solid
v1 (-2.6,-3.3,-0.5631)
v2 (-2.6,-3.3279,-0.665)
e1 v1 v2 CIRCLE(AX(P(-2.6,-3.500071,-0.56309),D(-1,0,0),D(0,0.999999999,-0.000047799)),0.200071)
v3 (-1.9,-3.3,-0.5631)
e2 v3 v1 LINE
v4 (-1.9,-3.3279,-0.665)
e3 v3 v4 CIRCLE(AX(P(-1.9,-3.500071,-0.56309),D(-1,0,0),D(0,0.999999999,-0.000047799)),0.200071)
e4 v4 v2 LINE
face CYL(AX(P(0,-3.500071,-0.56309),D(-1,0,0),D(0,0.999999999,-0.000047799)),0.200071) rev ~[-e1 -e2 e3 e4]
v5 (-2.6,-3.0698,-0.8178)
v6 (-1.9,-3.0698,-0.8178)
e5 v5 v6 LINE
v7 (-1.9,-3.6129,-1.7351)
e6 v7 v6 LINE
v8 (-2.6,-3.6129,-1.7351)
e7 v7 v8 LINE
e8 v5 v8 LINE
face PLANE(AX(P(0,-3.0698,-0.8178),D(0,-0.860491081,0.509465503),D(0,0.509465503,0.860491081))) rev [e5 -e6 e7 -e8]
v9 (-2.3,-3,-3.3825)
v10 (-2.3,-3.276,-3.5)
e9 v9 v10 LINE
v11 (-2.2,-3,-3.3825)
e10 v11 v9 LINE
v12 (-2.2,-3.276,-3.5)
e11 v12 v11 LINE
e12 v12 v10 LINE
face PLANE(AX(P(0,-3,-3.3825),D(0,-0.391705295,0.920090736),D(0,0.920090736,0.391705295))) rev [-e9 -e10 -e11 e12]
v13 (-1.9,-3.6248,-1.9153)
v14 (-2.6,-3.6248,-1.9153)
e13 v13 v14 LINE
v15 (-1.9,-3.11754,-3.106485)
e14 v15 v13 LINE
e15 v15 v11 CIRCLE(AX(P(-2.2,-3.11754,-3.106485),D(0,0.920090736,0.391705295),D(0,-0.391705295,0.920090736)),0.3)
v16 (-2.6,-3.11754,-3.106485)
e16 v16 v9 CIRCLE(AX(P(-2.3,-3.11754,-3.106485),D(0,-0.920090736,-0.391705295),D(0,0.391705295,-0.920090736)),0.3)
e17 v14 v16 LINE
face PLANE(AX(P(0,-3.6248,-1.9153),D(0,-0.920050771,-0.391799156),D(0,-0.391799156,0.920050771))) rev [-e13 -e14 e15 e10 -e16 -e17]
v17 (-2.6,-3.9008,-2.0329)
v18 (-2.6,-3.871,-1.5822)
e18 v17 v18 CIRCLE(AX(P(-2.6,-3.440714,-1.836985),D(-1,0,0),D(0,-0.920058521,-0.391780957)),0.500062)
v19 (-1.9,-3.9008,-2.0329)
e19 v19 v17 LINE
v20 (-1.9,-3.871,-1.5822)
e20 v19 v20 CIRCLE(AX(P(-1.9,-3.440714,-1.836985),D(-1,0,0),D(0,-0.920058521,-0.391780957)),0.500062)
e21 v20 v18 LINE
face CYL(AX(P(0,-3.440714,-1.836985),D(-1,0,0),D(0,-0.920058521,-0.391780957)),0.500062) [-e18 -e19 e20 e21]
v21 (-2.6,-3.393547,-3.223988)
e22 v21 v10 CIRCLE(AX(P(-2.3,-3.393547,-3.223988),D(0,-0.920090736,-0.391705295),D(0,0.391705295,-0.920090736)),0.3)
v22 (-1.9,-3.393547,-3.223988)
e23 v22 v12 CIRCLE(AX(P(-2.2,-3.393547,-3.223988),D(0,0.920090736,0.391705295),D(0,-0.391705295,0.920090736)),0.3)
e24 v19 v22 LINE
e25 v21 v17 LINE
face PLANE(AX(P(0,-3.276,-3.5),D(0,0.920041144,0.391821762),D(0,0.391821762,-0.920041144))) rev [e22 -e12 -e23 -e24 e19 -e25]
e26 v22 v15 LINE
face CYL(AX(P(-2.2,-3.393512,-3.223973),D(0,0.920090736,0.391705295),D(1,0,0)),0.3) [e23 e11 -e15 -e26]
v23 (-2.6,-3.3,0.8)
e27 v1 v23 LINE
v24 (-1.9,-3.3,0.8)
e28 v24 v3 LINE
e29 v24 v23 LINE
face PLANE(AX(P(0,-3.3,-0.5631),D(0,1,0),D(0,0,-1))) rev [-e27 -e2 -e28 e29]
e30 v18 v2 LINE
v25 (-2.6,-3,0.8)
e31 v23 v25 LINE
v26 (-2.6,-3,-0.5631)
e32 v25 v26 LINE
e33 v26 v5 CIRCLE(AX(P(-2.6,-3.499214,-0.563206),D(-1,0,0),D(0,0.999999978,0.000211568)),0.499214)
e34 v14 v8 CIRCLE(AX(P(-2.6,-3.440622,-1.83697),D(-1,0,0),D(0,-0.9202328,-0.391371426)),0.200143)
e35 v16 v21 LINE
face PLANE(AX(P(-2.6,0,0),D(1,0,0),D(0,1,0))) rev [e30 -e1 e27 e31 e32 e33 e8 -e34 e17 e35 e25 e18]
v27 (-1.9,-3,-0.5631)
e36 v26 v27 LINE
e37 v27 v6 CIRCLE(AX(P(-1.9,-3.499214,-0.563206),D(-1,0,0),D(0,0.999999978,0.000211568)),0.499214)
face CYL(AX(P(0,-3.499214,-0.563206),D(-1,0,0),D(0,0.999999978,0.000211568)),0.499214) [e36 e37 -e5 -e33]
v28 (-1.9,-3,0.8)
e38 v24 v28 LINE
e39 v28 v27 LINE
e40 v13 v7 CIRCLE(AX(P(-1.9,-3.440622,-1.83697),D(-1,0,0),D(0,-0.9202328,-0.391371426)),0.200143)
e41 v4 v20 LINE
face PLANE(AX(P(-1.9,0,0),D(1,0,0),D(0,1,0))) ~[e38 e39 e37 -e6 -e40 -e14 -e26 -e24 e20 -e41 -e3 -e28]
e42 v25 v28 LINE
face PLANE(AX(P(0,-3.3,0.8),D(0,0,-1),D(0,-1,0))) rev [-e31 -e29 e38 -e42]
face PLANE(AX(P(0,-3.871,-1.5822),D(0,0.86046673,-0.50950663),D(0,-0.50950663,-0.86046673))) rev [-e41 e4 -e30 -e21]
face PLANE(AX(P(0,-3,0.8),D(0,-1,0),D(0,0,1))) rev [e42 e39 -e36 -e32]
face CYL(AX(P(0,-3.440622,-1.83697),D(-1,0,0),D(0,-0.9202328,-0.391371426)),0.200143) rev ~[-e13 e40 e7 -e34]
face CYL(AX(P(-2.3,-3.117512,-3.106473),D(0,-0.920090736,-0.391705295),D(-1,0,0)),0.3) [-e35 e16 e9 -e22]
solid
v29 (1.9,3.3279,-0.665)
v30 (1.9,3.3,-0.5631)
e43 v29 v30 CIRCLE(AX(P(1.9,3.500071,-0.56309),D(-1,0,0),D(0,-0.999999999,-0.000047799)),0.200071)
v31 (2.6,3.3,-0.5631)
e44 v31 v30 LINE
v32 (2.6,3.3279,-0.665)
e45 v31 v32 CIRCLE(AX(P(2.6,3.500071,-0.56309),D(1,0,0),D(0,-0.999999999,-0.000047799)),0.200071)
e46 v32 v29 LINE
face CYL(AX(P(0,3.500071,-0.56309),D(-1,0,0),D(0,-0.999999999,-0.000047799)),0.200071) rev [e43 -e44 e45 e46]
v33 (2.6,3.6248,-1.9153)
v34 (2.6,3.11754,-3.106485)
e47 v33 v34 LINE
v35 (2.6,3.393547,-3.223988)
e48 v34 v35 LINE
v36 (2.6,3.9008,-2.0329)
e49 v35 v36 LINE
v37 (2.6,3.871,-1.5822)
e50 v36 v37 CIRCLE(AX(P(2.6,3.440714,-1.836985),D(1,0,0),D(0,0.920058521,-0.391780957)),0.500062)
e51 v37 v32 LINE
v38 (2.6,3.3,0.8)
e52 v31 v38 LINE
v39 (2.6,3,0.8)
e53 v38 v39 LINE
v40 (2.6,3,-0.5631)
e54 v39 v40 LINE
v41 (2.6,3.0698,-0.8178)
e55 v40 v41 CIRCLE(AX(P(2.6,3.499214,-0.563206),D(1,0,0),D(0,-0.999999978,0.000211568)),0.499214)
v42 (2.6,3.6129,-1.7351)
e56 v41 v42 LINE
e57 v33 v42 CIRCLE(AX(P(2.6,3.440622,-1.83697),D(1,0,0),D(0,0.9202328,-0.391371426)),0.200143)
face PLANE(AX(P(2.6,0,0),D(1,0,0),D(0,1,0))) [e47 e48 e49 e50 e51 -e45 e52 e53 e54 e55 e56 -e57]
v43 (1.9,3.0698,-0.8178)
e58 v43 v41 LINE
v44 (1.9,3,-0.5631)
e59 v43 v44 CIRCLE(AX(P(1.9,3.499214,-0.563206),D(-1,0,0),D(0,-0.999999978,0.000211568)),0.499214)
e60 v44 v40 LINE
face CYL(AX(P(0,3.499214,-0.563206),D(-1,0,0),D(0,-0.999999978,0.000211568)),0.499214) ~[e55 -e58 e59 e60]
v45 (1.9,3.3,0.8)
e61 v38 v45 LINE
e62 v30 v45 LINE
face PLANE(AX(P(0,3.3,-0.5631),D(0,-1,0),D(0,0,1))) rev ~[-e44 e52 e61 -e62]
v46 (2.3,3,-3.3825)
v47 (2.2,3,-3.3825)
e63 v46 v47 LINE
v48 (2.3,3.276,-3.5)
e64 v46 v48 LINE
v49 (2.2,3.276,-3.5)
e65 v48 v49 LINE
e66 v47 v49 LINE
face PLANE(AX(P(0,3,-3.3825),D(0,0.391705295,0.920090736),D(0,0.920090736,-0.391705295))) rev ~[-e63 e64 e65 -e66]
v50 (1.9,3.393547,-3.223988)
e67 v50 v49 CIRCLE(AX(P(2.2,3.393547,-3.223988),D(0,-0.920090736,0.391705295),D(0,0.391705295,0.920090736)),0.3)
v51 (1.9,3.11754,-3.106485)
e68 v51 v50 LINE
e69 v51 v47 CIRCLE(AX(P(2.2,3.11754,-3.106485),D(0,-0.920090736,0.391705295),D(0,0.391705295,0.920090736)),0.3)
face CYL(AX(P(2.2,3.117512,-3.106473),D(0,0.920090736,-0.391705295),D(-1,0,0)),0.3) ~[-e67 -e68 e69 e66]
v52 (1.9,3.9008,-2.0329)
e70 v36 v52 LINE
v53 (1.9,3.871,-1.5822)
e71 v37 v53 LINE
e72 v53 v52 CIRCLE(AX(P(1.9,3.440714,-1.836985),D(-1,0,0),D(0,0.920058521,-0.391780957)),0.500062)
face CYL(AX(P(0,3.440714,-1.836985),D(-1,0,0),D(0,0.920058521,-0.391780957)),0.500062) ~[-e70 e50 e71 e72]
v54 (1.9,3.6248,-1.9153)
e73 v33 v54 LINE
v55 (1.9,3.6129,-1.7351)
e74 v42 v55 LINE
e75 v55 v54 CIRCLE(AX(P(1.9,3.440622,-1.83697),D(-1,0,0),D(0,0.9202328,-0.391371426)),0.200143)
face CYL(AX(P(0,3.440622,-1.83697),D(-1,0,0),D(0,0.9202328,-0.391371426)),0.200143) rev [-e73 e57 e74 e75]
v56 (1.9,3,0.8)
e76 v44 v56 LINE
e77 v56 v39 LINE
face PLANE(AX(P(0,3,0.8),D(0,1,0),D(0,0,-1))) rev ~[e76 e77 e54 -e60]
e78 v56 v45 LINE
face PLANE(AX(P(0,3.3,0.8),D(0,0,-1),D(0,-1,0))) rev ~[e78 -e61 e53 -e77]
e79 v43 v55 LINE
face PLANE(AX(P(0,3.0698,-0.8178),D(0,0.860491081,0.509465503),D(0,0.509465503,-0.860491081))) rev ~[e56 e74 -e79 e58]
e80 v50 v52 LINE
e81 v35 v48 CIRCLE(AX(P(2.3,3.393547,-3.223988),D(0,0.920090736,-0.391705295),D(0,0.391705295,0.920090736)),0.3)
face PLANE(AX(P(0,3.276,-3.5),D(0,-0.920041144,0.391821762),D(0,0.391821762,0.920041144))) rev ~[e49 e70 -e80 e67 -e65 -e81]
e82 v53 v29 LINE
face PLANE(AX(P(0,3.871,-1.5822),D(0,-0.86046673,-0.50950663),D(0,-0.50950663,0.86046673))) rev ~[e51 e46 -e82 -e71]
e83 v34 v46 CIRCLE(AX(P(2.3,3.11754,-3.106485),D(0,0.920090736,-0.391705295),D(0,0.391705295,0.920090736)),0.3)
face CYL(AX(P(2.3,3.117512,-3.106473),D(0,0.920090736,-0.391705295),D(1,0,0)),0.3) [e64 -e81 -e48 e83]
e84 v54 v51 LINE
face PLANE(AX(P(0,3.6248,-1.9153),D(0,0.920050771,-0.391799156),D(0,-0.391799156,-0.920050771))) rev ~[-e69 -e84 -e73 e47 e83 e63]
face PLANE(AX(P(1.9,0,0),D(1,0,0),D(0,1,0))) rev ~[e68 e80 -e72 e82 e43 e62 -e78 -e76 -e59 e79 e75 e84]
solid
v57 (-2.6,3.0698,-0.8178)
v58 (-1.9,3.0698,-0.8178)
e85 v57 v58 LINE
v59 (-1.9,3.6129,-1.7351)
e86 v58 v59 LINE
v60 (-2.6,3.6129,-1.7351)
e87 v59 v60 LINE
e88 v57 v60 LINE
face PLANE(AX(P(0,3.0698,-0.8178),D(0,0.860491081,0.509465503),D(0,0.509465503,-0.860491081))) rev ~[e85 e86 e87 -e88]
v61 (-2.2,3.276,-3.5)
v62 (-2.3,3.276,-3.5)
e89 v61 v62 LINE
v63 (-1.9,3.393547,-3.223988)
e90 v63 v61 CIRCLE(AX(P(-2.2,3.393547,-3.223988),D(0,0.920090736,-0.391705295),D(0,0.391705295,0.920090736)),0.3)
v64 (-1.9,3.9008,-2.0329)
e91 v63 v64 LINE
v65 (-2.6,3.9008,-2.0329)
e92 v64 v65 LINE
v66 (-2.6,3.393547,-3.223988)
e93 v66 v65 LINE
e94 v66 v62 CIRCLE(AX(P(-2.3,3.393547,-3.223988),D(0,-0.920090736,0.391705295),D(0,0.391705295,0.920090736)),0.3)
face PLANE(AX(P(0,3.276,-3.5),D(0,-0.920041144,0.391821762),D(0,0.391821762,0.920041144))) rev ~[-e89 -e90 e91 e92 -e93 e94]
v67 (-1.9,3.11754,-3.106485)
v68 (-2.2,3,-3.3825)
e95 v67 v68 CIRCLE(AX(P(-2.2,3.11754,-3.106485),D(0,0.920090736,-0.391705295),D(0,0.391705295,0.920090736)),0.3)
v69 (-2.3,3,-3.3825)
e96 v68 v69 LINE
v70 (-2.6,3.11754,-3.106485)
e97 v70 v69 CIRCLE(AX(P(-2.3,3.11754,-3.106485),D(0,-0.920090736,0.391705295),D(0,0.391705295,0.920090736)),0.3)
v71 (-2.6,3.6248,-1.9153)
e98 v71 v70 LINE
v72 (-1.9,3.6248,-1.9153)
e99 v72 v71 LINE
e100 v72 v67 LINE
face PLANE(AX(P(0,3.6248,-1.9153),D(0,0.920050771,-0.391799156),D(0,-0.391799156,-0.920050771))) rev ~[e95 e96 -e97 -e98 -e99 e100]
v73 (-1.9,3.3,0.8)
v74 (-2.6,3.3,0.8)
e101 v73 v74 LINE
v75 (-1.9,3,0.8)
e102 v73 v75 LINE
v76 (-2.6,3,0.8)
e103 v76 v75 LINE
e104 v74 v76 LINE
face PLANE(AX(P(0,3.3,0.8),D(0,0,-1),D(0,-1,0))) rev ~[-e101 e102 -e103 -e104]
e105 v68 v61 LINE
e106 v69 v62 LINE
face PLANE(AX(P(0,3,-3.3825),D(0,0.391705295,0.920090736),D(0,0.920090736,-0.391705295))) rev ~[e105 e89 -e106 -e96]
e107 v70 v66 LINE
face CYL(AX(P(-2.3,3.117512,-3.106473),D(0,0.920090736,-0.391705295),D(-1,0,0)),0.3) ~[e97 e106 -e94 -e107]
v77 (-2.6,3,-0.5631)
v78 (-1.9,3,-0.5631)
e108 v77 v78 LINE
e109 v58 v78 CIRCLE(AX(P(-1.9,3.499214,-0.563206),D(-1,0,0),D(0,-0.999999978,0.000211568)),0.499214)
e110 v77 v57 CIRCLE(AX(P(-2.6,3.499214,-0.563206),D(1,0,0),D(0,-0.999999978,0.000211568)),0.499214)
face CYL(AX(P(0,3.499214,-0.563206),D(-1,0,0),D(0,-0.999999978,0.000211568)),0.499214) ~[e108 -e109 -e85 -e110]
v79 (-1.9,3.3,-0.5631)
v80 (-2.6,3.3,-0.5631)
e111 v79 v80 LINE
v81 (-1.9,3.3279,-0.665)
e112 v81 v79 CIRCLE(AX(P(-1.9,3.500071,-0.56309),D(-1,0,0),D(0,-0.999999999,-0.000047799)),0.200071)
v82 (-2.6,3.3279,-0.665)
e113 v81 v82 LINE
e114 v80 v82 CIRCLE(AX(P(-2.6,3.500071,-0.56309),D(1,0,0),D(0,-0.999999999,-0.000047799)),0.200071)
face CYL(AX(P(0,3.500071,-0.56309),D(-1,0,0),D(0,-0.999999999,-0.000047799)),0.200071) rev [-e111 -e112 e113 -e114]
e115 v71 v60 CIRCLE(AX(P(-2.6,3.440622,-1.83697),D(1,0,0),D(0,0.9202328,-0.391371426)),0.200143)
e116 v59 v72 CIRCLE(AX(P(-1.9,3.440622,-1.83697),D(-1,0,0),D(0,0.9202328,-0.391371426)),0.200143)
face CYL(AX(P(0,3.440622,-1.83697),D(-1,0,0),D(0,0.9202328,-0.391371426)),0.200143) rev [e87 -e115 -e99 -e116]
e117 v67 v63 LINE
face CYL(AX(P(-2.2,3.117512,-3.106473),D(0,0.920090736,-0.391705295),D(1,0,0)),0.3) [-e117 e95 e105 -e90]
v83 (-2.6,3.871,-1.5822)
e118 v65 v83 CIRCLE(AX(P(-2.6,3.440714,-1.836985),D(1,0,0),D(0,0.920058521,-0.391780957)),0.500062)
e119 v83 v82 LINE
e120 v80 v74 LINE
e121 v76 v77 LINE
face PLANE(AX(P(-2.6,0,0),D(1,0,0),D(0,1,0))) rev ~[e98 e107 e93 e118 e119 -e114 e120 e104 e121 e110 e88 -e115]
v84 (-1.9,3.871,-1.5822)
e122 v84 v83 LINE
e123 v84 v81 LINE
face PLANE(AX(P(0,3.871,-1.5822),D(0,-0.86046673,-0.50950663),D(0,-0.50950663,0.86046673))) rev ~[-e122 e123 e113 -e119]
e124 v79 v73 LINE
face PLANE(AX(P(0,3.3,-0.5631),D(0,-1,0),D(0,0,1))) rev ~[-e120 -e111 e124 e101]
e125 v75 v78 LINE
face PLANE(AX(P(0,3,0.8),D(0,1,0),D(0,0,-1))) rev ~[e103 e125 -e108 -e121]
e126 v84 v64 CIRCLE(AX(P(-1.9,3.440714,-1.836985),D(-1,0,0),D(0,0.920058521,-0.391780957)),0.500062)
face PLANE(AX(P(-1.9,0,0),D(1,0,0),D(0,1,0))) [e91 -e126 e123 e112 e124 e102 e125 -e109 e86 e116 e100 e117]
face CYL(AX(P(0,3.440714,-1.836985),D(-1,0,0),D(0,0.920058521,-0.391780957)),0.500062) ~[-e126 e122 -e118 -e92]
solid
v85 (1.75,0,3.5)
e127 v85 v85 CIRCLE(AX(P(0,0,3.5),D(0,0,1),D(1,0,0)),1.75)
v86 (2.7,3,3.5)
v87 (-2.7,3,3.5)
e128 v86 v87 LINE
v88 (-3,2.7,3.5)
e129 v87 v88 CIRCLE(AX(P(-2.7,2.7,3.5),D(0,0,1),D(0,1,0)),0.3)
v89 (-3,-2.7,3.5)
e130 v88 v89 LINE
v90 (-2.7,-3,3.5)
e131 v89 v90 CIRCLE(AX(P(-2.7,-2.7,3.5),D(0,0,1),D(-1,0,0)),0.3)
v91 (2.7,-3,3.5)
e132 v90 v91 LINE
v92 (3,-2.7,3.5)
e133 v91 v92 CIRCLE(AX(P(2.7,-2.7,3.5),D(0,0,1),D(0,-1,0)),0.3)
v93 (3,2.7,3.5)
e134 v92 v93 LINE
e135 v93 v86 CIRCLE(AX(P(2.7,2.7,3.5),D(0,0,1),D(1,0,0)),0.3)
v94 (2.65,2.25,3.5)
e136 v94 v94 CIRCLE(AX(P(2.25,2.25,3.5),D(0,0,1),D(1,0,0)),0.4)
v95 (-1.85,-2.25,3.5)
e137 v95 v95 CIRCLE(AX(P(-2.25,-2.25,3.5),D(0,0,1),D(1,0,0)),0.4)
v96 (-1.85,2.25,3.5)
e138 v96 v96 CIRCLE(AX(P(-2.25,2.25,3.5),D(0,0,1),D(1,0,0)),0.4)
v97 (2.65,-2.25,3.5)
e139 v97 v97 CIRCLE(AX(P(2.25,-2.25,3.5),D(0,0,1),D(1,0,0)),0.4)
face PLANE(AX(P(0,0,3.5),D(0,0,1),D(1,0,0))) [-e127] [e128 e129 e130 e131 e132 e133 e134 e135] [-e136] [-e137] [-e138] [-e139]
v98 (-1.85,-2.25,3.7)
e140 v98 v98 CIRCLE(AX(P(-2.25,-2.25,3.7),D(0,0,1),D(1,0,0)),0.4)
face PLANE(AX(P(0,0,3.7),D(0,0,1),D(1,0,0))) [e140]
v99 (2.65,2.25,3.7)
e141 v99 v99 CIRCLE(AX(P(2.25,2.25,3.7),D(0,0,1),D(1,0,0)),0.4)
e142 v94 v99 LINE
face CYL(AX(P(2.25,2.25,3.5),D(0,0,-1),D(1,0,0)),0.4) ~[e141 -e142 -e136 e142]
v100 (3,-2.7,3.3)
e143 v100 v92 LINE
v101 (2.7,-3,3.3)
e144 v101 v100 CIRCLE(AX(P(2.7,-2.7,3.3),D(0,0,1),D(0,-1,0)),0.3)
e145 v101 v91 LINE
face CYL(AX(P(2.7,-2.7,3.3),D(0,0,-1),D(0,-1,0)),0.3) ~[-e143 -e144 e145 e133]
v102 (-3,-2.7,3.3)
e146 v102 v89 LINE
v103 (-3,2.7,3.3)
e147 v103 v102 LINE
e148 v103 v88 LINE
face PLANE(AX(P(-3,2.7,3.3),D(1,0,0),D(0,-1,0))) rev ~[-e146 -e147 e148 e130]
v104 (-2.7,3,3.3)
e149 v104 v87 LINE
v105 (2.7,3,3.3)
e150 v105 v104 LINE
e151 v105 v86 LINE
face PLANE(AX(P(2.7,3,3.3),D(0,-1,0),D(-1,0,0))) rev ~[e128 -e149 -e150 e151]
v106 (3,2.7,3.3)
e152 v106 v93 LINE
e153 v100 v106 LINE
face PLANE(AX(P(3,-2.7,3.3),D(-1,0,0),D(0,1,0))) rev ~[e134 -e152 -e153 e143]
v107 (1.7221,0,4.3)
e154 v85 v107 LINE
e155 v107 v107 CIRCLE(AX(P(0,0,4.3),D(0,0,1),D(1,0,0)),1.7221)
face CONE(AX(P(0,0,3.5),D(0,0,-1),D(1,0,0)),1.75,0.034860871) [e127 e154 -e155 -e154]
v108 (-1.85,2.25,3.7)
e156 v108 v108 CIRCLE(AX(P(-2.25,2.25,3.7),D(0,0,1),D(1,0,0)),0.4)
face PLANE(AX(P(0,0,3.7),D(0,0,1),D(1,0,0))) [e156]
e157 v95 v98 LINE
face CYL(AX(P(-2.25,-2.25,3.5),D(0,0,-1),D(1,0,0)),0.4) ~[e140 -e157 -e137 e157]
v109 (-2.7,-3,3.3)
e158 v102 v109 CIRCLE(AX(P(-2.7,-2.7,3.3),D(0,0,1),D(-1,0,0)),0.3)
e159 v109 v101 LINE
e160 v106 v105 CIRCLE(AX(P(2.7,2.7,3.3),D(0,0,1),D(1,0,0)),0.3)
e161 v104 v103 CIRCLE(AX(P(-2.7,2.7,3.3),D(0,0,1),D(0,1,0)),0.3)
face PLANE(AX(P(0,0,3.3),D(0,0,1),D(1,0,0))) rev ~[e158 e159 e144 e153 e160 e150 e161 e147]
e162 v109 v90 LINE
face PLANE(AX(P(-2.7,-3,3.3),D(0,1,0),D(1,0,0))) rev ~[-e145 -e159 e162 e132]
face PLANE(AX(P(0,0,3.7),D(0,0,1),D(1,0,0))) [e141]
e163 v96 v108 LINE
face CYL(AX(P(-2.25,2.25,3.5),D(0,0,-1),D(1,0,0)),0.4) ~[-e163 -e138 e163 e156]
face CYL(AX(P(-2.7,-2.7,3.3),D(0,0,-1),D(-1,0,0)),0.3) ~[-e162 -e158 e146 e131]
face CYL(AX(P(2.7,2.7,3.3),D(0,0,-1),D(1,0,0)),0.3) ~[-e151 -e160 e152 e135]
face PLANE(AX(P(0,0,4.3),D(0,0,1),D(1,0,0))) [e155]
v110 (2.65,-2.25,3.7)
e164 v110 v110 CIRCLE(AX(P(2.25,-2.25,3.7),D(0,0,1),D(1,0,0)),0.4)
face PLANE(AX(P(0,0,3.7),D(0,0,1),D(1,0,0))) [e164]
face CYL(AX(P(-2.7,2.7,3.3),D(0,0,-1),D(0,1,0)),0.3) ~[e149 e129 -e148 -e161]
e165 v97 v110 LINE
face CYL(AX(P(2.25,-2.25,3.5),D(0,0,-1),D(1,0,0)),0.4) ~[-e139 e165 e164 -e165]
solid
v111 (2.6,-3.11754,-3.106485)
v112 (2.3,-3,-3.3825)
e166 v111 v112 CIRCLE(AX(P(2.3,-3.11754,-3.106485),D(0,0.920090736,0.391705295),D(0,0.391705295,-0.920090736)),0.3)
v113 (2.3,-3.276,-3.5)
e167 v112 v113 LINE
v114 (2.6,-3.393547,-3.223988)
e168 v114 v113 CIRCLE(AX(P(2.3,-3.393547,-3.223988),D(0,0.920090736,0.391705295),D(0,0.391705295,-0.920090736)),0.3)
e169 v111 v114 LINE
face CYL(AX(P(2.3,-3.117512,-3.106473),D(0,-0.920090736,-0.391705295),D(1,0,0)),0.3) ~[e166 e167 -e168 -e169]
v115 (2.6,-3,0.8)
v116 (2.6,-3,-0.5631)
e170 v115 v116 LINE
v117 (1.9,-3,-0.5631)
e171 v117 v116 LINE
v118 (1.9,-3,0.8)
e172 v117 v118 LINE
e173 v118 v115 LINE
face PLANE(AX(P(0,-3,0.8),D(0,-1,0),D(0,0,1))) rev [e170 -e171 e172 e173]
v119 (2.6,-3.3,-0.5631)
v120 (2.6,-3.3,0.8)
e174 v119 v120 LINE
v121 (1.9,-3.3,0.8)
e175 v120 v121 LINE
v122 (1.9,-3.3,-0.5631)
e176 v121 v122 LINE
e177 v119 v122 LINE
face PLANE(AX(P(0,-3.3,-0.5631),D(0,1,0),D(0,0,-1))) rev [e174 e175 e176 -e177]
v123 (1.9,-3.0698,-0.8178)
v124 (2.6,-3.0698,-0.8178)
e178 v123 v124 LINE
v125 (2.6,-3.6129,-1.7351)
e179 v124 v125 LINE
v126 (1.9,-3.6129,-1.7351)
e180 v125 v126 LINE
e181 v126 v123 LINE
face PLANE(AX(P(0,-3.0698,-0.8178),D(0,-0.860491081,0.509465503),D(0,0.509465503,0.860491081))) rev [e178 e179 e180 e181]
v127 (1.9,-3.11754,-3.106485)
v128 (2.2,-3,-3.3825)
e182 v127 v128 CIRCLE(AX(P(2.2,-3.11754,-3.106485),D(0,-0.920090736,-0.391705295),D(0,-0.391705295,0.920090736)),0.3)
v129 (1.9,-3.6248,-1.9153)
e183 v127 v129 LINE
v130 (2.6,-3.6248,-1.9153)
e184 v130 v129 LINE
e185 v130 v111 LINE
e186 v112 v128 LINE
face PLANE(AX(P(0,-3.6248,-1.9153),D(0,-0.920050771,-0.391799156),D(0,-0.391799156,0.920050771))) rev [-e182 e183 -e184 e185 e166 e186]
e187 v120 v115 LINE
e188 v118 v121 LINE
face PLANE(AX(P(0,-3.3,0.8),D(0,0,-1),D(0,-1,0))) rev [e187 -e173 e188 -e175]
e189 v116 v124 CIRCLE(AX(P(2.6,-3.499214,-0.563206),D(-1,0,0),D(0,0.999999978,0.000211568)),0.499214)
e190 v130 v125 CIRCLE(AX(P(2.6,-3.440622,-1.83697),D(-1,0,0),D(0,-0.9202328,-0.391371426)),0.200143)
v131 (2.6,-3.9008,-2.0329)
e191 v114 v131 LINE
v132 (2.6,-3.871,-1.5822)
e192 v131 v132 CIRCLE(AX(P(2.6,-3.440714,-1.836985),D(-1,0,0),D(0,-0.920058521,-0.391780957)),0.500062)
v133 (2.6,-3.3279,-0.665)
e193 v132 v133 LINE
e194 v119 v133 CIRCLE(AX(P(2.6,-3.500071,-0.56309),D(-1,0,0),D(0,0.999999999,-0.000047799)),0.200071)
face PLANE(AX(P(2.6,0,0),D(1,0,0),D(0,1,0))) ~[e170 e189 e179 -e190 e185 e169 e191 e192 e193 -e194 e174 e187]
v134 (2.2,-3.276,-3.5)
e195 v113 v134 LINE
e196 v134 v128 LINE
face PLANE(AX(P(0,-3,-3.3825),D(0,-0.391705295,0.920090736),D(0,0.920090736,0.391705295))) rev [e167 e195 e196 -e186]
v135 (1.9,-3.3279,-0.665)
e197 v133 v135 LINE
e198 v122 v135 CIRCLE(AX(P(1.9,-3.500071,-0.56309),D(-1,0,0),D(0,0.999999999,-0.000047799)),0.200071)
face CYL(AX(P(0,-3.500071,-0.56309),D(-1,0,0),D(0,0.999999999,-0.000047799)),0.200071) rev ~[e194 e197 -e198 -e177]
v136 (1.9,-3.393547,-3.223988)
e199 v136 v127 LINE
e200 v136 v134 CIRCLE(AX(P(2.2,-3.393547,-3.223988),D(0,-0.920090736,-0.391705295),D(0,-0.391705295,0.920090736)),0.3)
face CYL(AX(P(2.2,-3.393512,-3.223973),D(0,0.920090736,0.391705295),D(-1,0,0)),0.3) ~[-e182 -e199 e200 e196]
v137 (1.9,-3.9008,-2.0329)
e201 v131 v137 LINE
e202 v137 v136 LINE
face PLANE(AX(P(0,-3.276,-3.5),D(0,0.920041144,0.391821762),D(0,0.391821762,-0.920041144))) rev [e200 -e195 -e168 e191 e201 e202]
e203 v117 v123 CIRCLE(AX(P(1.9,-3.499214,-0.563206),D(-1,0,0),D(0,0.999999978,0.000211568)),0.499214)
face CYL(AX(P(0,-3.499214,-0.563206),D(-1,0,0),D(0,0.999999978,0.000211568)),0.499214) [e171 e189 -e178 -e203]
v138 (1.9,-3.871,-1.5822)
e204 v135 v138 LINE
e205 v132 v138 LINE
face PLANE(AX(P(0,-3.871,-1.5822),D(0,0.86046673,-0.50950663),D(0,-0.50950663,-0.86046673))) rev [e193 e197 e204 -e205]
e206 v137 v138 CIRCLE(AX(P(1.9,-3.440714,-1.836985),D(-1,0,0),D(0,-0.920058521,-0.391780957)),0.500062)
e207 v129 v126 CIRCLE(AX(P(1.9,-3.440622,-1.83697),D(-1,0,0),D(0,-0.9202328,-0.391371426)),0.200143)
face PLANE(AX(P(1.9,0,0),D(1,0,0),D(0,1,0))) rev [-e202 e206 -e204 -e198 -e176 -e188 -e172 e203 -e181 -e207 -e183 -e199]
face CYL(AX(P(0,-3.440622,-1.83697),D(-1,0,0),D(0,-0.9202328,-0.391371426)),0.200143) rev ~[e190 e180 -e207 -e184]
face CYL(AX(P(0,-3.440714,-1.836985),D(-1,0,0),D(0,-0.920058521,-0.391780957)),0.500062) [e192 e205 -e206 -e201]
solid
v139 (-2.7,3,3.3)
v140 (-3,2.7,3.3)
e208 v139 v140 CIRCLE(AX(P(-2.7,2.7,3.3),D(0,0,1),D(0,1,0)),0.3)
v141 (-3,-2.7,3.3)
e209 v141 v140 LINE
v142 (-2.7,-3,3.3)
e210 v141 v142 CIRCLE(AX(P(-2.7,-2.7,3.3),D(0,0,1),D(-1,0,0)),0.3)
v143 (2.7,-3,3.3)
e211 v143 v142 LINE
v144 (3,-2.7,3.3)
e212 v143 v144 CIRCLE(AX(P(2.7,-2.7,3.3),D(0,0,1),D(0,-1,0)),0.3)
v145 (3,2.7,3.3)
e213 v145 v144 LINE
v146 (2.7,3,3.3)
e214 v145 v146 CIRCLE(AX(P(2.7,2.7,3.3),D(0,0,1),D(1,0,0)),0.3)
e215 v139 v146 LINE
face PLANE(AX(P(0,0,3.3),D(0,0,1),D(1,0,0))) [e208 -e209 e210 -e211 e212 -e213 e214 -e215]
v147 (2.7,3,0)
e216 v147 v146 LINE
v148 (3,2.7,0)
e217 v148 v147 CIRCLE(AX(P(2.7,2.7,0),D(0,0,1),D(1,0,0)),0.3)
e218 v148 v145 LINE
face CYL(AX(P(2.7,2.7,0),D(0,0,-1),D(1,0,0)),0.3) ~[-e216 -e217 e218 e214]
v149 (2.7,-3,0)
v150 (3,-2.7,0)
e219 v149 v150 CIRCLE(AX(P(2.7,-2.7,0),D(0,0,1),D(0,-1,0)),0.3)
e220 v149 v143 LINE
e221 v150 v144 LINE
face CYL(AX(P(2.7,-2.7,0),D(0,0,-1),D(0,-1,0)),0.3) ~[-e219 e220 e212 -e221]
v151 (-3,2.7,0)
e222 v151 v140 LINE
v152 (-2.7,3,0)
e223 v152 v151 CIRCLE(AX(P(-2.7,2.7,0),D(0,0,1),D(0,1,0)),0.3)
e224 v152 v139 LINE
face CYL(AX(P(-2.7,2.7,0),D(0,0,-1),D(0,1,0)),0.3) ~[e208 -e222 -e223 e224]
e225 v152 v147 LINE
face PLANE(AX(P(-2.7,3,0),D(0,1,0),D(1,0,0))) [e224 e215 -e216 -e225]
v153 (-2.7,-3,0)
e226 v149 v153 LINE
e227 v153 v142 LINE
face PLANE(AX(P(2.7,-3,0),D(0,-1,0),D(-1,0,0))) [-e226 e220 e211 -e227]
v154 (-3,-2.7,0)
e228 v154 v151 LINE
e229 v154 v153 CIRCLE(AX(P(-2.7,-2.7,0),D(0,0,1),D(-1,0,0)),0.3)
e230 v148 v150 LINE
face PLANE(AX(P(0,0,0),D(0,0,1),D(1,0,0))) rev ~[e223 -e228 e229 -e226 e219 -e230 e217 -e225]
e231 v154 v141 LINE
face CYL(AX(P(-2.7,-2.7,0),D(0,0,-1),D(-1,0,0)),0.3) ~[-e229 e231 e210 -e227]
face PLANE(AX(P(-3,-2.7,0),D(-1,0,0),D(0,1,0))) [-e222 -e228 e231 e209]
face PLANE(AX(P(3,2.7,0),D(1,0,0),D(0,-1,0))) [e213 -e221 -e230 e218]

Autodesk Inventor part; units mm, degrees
ref_plane "YZ Plane" through (0, 0, 0) normal (1, 0, 0) x (0, 1, 0)
ref_plane "XZ Plane" through (0, 0, 0) normal (0, 1, 0) x (-1, 0, 0)
ref_plane "XY Plane" through (0, 0, 0) normal (0, 0, 1) x (1, 0, 0)
sketch "Boceto39" plane through (0, 0, 0) normal (0, 0, 1) x (1, 0, 0)
  line L0 (-2.7, 3) -> (2.7, 3)
  line L1 (3, 2.7) -> (3, -2.7)
  line L2 (2.7, -3) -> (-2.7, -3)
  line L3 (-3, -2.7) -> (-3, 2.7)
  arc A0 (3, 2.7) -> (2.7, 3) centre (2.7, 2.7) ccw
  arc A1 (-2.7, 3) -> (-3, 2.7) centre (-2.7, 2.7) ccw
  arc A2 (-3, -2.7) -> (-2.7, -3) centre (-2.7, -2.7) ccw
  arc A3 (2.7, -3) -> (3, -2.7) centre (2.7, -2.7) ccw
  point P0 (0, 0)
  point P1 (-3, 3)
  point P2 (3, -3)
  point P3 (3, 3)
  point P4 (-3, -3)
  point P5 (0, 3)
  point P6 (3, 0)
  dimension "d373" = 6
  dimension "d376" = 0.3
extrude "Extrusión13" add sketch "Boceto39" along normal blind 3.3
sketch "Boceto40" plane through (0, 0, 3.3) normal (0, 0, 1) x (1, 0, 0)
  line L0 (2.7, 3) -> (-2.7, 3) projected
  arc A0 (-2.7, 3) -> (-3, 2.7) centre (-2.7, 2.7) ccw projected
  line L1 (-3, 2.7) -> (-3, -2.7) projected
  arc A1 (-3, -2.7) -> (-2.7, -3) centre (-2.7, -2.7) ccw projected
  line L2 (-2.7, -3) -> (2.7, -3) projected
  arc A2 (2.7, -3) -> (3, -2.7) centre (2.7, -2.7) ccw projected
  line L3 (3, -2.7) -> (3, 2.7) projected
  arc A3 (3, 2.7) -> (2.7, 3) centre (2.7, 2.7) ccw projected
  point P0 (0, 0)
extrude "Extrusión14" add sketch "Boceto40" along normal blind 0.2 separate body
sketch "Boceto43" plane through (0, 0, 0) normal (1, 0, 0) x (0, 1, 0)
  line L0 (0, 0) -> (0, -3.6276) construction
  line L1 (3, 0) -> (3, 3.3) construction
  line L2 (3, 0.8) -> (3, -0.5631)
  line L3 (3.0698, -0.8178) -> (3.6129, -1.7351)
  line L4 (3.6248, -1.9153) -> (3, -3.3825)
  line L5 (3, -3.3825) -> (3.276, -3.5)
  line L6 (3.276, -3.5) -> (3.9008, -2.0329)
  line L7 (3.871, -1.5822) -> (3.3279, -0.665)
  line L8 (3.3, -0.5631) -> (3.3, 0.8)
  line L9 (3.3, 0.8) -> (3, 0.8)
  line L10 (2.7, 3.5) -> (-2.7, 3.5) projected
  line L11 (2.7, 0) -> (-2.7, 0) projected
  arc A0 (3.6248, -1.9153) -> (3.6129, -1.7351) centre (3.4408, -1.837) ccw
  arc A1 (3.3, -0.5631) -> (3.3279, -0.665) centre (3.5, -0.5631) ccw
  arc A2 (3.9008, -2.0329) -> (3.871, -1.5822) centre (3.4408, -1.837) ccw
  arc A3 (3, -0.5631) -> (3.0698, -0.8178) centre (3.5, -0.5631) ccw
  point P0 (3, -0.7)
  point P1 (4, -1.8)
  dimension "d399" = 2.7
  dimension "d400" = 0.3
  dimension "d401" = 0.3
  dimension "d402" = 0.3
  dimension "d403" = 0.7
  dimension "d404" = 4
  dimension "d405" = 3
  dimension "d406" = 1.8
  dimension "d407" = 3.5
  dimension "d408" = 0.2
  dimension "d409" = 0.5
extrude "Extrusión15" add sketch "Boceto43" along normal mid plane 5.2 separate body
sketch "Boceto45" plane through (0, 0, 0) normal (1, 0, 0) x (0, 1, 0)
  line L0 (3, 0.8) -> (3, -0.5631) projected
  line L1 (3, 0.8) -> (3.3, 0.8) projected
  line L2 (3, 0.8) -> (4.0467, 0.8)
  line L3 (4.0467, 0.8) -> (4.0467, -3.761)
  line L4 (4.0467, -3.761) -> (3, -3.761)
  line L5 (3, -3.761) -> (3, 0.8)
  point P0 (0, 0)
extrude "Extrusión17" cut sketch "Boceto45" along normal mid plane 3.8 bodies 3
fillet "Empalme44" radius 0.3 4 edges at (2.6, 3.138, -3.4412) (1.9, 3.138, -3.4412) (-1.9, 3.138, -3.4412) (-2.6, 3.138, -3.4412)
mirror "Simetría1" about plane through (0, 0, 0) normal (0, 1, 0) of "Extrusión15", "Extrusión17", "Empalme44" bodies 3
sketch "Boceto46" plane through (0, 0, 3.5) normal (0, 0, 1) x (1, 0, 0)
  line L0 (-2.25, -2.25) -> (2.25, -2.25) construction
  line L1 (2.25, -2.25) -> (2.25, 2.25) construction
  line L2 (2.25, 2.25) -> (-2.25, 2.25) construction
  line L3 (-2.25, 2.25) -> (-2.25, -2.25) construction
  circle A0 centre (-2.25, -2.25) radius 0.4
  circle A1 centre (-2.25, 2.25) radius 0.4
  circle A2 centre (2.25, 2.25) radius 0.4
  circle A3 centre (2.25, -2.25) radius 0.4
  point P0 (0, 0)
  point P1 (0, -2.25)
  point P2 (-2.25, 0)
  dimension "d417" = 0.8
  dimension "d418" = 4.5
extrude "Extrusión18" add sketch "Boceto46" along normal blind 0.2 bodies 2
sketch "Boceto48" plane through (0, 0, 0) normal (0, 1, 0) x (-1, 0, 0)
  line L0 (0, 0) -> (0, 17.1627)
  line L1 (-2.7, 3.5) -> (2.7, 3.5) construction
  line L2 (0, 3.5) -> (-1.75, 3.5)
  line L3 (-1.75, 3.5) -> (-1.7221, 4.3)
  line L4 (-1.7221, 4.3) -> (0, 4.3)
  line L5 (0, 4.3) -> (0, 3.5)
  line L6 (-2.7, 0) -> (2.7, 0) projected
  line L7 (-1.75, 3.5) -> (-1.75, 4.1675) construction
  dimension "d422" = 4.3
  dimension "d423" = 3.5
  dimension "d424" = 2
revolve "Revolución14" add sketch "Boceto48" angle 360 about axis through (0, 0, 0) along (0, 0, 1) bodies 2
properties part number "TACT-SWITCH-THT-06X06MM"
